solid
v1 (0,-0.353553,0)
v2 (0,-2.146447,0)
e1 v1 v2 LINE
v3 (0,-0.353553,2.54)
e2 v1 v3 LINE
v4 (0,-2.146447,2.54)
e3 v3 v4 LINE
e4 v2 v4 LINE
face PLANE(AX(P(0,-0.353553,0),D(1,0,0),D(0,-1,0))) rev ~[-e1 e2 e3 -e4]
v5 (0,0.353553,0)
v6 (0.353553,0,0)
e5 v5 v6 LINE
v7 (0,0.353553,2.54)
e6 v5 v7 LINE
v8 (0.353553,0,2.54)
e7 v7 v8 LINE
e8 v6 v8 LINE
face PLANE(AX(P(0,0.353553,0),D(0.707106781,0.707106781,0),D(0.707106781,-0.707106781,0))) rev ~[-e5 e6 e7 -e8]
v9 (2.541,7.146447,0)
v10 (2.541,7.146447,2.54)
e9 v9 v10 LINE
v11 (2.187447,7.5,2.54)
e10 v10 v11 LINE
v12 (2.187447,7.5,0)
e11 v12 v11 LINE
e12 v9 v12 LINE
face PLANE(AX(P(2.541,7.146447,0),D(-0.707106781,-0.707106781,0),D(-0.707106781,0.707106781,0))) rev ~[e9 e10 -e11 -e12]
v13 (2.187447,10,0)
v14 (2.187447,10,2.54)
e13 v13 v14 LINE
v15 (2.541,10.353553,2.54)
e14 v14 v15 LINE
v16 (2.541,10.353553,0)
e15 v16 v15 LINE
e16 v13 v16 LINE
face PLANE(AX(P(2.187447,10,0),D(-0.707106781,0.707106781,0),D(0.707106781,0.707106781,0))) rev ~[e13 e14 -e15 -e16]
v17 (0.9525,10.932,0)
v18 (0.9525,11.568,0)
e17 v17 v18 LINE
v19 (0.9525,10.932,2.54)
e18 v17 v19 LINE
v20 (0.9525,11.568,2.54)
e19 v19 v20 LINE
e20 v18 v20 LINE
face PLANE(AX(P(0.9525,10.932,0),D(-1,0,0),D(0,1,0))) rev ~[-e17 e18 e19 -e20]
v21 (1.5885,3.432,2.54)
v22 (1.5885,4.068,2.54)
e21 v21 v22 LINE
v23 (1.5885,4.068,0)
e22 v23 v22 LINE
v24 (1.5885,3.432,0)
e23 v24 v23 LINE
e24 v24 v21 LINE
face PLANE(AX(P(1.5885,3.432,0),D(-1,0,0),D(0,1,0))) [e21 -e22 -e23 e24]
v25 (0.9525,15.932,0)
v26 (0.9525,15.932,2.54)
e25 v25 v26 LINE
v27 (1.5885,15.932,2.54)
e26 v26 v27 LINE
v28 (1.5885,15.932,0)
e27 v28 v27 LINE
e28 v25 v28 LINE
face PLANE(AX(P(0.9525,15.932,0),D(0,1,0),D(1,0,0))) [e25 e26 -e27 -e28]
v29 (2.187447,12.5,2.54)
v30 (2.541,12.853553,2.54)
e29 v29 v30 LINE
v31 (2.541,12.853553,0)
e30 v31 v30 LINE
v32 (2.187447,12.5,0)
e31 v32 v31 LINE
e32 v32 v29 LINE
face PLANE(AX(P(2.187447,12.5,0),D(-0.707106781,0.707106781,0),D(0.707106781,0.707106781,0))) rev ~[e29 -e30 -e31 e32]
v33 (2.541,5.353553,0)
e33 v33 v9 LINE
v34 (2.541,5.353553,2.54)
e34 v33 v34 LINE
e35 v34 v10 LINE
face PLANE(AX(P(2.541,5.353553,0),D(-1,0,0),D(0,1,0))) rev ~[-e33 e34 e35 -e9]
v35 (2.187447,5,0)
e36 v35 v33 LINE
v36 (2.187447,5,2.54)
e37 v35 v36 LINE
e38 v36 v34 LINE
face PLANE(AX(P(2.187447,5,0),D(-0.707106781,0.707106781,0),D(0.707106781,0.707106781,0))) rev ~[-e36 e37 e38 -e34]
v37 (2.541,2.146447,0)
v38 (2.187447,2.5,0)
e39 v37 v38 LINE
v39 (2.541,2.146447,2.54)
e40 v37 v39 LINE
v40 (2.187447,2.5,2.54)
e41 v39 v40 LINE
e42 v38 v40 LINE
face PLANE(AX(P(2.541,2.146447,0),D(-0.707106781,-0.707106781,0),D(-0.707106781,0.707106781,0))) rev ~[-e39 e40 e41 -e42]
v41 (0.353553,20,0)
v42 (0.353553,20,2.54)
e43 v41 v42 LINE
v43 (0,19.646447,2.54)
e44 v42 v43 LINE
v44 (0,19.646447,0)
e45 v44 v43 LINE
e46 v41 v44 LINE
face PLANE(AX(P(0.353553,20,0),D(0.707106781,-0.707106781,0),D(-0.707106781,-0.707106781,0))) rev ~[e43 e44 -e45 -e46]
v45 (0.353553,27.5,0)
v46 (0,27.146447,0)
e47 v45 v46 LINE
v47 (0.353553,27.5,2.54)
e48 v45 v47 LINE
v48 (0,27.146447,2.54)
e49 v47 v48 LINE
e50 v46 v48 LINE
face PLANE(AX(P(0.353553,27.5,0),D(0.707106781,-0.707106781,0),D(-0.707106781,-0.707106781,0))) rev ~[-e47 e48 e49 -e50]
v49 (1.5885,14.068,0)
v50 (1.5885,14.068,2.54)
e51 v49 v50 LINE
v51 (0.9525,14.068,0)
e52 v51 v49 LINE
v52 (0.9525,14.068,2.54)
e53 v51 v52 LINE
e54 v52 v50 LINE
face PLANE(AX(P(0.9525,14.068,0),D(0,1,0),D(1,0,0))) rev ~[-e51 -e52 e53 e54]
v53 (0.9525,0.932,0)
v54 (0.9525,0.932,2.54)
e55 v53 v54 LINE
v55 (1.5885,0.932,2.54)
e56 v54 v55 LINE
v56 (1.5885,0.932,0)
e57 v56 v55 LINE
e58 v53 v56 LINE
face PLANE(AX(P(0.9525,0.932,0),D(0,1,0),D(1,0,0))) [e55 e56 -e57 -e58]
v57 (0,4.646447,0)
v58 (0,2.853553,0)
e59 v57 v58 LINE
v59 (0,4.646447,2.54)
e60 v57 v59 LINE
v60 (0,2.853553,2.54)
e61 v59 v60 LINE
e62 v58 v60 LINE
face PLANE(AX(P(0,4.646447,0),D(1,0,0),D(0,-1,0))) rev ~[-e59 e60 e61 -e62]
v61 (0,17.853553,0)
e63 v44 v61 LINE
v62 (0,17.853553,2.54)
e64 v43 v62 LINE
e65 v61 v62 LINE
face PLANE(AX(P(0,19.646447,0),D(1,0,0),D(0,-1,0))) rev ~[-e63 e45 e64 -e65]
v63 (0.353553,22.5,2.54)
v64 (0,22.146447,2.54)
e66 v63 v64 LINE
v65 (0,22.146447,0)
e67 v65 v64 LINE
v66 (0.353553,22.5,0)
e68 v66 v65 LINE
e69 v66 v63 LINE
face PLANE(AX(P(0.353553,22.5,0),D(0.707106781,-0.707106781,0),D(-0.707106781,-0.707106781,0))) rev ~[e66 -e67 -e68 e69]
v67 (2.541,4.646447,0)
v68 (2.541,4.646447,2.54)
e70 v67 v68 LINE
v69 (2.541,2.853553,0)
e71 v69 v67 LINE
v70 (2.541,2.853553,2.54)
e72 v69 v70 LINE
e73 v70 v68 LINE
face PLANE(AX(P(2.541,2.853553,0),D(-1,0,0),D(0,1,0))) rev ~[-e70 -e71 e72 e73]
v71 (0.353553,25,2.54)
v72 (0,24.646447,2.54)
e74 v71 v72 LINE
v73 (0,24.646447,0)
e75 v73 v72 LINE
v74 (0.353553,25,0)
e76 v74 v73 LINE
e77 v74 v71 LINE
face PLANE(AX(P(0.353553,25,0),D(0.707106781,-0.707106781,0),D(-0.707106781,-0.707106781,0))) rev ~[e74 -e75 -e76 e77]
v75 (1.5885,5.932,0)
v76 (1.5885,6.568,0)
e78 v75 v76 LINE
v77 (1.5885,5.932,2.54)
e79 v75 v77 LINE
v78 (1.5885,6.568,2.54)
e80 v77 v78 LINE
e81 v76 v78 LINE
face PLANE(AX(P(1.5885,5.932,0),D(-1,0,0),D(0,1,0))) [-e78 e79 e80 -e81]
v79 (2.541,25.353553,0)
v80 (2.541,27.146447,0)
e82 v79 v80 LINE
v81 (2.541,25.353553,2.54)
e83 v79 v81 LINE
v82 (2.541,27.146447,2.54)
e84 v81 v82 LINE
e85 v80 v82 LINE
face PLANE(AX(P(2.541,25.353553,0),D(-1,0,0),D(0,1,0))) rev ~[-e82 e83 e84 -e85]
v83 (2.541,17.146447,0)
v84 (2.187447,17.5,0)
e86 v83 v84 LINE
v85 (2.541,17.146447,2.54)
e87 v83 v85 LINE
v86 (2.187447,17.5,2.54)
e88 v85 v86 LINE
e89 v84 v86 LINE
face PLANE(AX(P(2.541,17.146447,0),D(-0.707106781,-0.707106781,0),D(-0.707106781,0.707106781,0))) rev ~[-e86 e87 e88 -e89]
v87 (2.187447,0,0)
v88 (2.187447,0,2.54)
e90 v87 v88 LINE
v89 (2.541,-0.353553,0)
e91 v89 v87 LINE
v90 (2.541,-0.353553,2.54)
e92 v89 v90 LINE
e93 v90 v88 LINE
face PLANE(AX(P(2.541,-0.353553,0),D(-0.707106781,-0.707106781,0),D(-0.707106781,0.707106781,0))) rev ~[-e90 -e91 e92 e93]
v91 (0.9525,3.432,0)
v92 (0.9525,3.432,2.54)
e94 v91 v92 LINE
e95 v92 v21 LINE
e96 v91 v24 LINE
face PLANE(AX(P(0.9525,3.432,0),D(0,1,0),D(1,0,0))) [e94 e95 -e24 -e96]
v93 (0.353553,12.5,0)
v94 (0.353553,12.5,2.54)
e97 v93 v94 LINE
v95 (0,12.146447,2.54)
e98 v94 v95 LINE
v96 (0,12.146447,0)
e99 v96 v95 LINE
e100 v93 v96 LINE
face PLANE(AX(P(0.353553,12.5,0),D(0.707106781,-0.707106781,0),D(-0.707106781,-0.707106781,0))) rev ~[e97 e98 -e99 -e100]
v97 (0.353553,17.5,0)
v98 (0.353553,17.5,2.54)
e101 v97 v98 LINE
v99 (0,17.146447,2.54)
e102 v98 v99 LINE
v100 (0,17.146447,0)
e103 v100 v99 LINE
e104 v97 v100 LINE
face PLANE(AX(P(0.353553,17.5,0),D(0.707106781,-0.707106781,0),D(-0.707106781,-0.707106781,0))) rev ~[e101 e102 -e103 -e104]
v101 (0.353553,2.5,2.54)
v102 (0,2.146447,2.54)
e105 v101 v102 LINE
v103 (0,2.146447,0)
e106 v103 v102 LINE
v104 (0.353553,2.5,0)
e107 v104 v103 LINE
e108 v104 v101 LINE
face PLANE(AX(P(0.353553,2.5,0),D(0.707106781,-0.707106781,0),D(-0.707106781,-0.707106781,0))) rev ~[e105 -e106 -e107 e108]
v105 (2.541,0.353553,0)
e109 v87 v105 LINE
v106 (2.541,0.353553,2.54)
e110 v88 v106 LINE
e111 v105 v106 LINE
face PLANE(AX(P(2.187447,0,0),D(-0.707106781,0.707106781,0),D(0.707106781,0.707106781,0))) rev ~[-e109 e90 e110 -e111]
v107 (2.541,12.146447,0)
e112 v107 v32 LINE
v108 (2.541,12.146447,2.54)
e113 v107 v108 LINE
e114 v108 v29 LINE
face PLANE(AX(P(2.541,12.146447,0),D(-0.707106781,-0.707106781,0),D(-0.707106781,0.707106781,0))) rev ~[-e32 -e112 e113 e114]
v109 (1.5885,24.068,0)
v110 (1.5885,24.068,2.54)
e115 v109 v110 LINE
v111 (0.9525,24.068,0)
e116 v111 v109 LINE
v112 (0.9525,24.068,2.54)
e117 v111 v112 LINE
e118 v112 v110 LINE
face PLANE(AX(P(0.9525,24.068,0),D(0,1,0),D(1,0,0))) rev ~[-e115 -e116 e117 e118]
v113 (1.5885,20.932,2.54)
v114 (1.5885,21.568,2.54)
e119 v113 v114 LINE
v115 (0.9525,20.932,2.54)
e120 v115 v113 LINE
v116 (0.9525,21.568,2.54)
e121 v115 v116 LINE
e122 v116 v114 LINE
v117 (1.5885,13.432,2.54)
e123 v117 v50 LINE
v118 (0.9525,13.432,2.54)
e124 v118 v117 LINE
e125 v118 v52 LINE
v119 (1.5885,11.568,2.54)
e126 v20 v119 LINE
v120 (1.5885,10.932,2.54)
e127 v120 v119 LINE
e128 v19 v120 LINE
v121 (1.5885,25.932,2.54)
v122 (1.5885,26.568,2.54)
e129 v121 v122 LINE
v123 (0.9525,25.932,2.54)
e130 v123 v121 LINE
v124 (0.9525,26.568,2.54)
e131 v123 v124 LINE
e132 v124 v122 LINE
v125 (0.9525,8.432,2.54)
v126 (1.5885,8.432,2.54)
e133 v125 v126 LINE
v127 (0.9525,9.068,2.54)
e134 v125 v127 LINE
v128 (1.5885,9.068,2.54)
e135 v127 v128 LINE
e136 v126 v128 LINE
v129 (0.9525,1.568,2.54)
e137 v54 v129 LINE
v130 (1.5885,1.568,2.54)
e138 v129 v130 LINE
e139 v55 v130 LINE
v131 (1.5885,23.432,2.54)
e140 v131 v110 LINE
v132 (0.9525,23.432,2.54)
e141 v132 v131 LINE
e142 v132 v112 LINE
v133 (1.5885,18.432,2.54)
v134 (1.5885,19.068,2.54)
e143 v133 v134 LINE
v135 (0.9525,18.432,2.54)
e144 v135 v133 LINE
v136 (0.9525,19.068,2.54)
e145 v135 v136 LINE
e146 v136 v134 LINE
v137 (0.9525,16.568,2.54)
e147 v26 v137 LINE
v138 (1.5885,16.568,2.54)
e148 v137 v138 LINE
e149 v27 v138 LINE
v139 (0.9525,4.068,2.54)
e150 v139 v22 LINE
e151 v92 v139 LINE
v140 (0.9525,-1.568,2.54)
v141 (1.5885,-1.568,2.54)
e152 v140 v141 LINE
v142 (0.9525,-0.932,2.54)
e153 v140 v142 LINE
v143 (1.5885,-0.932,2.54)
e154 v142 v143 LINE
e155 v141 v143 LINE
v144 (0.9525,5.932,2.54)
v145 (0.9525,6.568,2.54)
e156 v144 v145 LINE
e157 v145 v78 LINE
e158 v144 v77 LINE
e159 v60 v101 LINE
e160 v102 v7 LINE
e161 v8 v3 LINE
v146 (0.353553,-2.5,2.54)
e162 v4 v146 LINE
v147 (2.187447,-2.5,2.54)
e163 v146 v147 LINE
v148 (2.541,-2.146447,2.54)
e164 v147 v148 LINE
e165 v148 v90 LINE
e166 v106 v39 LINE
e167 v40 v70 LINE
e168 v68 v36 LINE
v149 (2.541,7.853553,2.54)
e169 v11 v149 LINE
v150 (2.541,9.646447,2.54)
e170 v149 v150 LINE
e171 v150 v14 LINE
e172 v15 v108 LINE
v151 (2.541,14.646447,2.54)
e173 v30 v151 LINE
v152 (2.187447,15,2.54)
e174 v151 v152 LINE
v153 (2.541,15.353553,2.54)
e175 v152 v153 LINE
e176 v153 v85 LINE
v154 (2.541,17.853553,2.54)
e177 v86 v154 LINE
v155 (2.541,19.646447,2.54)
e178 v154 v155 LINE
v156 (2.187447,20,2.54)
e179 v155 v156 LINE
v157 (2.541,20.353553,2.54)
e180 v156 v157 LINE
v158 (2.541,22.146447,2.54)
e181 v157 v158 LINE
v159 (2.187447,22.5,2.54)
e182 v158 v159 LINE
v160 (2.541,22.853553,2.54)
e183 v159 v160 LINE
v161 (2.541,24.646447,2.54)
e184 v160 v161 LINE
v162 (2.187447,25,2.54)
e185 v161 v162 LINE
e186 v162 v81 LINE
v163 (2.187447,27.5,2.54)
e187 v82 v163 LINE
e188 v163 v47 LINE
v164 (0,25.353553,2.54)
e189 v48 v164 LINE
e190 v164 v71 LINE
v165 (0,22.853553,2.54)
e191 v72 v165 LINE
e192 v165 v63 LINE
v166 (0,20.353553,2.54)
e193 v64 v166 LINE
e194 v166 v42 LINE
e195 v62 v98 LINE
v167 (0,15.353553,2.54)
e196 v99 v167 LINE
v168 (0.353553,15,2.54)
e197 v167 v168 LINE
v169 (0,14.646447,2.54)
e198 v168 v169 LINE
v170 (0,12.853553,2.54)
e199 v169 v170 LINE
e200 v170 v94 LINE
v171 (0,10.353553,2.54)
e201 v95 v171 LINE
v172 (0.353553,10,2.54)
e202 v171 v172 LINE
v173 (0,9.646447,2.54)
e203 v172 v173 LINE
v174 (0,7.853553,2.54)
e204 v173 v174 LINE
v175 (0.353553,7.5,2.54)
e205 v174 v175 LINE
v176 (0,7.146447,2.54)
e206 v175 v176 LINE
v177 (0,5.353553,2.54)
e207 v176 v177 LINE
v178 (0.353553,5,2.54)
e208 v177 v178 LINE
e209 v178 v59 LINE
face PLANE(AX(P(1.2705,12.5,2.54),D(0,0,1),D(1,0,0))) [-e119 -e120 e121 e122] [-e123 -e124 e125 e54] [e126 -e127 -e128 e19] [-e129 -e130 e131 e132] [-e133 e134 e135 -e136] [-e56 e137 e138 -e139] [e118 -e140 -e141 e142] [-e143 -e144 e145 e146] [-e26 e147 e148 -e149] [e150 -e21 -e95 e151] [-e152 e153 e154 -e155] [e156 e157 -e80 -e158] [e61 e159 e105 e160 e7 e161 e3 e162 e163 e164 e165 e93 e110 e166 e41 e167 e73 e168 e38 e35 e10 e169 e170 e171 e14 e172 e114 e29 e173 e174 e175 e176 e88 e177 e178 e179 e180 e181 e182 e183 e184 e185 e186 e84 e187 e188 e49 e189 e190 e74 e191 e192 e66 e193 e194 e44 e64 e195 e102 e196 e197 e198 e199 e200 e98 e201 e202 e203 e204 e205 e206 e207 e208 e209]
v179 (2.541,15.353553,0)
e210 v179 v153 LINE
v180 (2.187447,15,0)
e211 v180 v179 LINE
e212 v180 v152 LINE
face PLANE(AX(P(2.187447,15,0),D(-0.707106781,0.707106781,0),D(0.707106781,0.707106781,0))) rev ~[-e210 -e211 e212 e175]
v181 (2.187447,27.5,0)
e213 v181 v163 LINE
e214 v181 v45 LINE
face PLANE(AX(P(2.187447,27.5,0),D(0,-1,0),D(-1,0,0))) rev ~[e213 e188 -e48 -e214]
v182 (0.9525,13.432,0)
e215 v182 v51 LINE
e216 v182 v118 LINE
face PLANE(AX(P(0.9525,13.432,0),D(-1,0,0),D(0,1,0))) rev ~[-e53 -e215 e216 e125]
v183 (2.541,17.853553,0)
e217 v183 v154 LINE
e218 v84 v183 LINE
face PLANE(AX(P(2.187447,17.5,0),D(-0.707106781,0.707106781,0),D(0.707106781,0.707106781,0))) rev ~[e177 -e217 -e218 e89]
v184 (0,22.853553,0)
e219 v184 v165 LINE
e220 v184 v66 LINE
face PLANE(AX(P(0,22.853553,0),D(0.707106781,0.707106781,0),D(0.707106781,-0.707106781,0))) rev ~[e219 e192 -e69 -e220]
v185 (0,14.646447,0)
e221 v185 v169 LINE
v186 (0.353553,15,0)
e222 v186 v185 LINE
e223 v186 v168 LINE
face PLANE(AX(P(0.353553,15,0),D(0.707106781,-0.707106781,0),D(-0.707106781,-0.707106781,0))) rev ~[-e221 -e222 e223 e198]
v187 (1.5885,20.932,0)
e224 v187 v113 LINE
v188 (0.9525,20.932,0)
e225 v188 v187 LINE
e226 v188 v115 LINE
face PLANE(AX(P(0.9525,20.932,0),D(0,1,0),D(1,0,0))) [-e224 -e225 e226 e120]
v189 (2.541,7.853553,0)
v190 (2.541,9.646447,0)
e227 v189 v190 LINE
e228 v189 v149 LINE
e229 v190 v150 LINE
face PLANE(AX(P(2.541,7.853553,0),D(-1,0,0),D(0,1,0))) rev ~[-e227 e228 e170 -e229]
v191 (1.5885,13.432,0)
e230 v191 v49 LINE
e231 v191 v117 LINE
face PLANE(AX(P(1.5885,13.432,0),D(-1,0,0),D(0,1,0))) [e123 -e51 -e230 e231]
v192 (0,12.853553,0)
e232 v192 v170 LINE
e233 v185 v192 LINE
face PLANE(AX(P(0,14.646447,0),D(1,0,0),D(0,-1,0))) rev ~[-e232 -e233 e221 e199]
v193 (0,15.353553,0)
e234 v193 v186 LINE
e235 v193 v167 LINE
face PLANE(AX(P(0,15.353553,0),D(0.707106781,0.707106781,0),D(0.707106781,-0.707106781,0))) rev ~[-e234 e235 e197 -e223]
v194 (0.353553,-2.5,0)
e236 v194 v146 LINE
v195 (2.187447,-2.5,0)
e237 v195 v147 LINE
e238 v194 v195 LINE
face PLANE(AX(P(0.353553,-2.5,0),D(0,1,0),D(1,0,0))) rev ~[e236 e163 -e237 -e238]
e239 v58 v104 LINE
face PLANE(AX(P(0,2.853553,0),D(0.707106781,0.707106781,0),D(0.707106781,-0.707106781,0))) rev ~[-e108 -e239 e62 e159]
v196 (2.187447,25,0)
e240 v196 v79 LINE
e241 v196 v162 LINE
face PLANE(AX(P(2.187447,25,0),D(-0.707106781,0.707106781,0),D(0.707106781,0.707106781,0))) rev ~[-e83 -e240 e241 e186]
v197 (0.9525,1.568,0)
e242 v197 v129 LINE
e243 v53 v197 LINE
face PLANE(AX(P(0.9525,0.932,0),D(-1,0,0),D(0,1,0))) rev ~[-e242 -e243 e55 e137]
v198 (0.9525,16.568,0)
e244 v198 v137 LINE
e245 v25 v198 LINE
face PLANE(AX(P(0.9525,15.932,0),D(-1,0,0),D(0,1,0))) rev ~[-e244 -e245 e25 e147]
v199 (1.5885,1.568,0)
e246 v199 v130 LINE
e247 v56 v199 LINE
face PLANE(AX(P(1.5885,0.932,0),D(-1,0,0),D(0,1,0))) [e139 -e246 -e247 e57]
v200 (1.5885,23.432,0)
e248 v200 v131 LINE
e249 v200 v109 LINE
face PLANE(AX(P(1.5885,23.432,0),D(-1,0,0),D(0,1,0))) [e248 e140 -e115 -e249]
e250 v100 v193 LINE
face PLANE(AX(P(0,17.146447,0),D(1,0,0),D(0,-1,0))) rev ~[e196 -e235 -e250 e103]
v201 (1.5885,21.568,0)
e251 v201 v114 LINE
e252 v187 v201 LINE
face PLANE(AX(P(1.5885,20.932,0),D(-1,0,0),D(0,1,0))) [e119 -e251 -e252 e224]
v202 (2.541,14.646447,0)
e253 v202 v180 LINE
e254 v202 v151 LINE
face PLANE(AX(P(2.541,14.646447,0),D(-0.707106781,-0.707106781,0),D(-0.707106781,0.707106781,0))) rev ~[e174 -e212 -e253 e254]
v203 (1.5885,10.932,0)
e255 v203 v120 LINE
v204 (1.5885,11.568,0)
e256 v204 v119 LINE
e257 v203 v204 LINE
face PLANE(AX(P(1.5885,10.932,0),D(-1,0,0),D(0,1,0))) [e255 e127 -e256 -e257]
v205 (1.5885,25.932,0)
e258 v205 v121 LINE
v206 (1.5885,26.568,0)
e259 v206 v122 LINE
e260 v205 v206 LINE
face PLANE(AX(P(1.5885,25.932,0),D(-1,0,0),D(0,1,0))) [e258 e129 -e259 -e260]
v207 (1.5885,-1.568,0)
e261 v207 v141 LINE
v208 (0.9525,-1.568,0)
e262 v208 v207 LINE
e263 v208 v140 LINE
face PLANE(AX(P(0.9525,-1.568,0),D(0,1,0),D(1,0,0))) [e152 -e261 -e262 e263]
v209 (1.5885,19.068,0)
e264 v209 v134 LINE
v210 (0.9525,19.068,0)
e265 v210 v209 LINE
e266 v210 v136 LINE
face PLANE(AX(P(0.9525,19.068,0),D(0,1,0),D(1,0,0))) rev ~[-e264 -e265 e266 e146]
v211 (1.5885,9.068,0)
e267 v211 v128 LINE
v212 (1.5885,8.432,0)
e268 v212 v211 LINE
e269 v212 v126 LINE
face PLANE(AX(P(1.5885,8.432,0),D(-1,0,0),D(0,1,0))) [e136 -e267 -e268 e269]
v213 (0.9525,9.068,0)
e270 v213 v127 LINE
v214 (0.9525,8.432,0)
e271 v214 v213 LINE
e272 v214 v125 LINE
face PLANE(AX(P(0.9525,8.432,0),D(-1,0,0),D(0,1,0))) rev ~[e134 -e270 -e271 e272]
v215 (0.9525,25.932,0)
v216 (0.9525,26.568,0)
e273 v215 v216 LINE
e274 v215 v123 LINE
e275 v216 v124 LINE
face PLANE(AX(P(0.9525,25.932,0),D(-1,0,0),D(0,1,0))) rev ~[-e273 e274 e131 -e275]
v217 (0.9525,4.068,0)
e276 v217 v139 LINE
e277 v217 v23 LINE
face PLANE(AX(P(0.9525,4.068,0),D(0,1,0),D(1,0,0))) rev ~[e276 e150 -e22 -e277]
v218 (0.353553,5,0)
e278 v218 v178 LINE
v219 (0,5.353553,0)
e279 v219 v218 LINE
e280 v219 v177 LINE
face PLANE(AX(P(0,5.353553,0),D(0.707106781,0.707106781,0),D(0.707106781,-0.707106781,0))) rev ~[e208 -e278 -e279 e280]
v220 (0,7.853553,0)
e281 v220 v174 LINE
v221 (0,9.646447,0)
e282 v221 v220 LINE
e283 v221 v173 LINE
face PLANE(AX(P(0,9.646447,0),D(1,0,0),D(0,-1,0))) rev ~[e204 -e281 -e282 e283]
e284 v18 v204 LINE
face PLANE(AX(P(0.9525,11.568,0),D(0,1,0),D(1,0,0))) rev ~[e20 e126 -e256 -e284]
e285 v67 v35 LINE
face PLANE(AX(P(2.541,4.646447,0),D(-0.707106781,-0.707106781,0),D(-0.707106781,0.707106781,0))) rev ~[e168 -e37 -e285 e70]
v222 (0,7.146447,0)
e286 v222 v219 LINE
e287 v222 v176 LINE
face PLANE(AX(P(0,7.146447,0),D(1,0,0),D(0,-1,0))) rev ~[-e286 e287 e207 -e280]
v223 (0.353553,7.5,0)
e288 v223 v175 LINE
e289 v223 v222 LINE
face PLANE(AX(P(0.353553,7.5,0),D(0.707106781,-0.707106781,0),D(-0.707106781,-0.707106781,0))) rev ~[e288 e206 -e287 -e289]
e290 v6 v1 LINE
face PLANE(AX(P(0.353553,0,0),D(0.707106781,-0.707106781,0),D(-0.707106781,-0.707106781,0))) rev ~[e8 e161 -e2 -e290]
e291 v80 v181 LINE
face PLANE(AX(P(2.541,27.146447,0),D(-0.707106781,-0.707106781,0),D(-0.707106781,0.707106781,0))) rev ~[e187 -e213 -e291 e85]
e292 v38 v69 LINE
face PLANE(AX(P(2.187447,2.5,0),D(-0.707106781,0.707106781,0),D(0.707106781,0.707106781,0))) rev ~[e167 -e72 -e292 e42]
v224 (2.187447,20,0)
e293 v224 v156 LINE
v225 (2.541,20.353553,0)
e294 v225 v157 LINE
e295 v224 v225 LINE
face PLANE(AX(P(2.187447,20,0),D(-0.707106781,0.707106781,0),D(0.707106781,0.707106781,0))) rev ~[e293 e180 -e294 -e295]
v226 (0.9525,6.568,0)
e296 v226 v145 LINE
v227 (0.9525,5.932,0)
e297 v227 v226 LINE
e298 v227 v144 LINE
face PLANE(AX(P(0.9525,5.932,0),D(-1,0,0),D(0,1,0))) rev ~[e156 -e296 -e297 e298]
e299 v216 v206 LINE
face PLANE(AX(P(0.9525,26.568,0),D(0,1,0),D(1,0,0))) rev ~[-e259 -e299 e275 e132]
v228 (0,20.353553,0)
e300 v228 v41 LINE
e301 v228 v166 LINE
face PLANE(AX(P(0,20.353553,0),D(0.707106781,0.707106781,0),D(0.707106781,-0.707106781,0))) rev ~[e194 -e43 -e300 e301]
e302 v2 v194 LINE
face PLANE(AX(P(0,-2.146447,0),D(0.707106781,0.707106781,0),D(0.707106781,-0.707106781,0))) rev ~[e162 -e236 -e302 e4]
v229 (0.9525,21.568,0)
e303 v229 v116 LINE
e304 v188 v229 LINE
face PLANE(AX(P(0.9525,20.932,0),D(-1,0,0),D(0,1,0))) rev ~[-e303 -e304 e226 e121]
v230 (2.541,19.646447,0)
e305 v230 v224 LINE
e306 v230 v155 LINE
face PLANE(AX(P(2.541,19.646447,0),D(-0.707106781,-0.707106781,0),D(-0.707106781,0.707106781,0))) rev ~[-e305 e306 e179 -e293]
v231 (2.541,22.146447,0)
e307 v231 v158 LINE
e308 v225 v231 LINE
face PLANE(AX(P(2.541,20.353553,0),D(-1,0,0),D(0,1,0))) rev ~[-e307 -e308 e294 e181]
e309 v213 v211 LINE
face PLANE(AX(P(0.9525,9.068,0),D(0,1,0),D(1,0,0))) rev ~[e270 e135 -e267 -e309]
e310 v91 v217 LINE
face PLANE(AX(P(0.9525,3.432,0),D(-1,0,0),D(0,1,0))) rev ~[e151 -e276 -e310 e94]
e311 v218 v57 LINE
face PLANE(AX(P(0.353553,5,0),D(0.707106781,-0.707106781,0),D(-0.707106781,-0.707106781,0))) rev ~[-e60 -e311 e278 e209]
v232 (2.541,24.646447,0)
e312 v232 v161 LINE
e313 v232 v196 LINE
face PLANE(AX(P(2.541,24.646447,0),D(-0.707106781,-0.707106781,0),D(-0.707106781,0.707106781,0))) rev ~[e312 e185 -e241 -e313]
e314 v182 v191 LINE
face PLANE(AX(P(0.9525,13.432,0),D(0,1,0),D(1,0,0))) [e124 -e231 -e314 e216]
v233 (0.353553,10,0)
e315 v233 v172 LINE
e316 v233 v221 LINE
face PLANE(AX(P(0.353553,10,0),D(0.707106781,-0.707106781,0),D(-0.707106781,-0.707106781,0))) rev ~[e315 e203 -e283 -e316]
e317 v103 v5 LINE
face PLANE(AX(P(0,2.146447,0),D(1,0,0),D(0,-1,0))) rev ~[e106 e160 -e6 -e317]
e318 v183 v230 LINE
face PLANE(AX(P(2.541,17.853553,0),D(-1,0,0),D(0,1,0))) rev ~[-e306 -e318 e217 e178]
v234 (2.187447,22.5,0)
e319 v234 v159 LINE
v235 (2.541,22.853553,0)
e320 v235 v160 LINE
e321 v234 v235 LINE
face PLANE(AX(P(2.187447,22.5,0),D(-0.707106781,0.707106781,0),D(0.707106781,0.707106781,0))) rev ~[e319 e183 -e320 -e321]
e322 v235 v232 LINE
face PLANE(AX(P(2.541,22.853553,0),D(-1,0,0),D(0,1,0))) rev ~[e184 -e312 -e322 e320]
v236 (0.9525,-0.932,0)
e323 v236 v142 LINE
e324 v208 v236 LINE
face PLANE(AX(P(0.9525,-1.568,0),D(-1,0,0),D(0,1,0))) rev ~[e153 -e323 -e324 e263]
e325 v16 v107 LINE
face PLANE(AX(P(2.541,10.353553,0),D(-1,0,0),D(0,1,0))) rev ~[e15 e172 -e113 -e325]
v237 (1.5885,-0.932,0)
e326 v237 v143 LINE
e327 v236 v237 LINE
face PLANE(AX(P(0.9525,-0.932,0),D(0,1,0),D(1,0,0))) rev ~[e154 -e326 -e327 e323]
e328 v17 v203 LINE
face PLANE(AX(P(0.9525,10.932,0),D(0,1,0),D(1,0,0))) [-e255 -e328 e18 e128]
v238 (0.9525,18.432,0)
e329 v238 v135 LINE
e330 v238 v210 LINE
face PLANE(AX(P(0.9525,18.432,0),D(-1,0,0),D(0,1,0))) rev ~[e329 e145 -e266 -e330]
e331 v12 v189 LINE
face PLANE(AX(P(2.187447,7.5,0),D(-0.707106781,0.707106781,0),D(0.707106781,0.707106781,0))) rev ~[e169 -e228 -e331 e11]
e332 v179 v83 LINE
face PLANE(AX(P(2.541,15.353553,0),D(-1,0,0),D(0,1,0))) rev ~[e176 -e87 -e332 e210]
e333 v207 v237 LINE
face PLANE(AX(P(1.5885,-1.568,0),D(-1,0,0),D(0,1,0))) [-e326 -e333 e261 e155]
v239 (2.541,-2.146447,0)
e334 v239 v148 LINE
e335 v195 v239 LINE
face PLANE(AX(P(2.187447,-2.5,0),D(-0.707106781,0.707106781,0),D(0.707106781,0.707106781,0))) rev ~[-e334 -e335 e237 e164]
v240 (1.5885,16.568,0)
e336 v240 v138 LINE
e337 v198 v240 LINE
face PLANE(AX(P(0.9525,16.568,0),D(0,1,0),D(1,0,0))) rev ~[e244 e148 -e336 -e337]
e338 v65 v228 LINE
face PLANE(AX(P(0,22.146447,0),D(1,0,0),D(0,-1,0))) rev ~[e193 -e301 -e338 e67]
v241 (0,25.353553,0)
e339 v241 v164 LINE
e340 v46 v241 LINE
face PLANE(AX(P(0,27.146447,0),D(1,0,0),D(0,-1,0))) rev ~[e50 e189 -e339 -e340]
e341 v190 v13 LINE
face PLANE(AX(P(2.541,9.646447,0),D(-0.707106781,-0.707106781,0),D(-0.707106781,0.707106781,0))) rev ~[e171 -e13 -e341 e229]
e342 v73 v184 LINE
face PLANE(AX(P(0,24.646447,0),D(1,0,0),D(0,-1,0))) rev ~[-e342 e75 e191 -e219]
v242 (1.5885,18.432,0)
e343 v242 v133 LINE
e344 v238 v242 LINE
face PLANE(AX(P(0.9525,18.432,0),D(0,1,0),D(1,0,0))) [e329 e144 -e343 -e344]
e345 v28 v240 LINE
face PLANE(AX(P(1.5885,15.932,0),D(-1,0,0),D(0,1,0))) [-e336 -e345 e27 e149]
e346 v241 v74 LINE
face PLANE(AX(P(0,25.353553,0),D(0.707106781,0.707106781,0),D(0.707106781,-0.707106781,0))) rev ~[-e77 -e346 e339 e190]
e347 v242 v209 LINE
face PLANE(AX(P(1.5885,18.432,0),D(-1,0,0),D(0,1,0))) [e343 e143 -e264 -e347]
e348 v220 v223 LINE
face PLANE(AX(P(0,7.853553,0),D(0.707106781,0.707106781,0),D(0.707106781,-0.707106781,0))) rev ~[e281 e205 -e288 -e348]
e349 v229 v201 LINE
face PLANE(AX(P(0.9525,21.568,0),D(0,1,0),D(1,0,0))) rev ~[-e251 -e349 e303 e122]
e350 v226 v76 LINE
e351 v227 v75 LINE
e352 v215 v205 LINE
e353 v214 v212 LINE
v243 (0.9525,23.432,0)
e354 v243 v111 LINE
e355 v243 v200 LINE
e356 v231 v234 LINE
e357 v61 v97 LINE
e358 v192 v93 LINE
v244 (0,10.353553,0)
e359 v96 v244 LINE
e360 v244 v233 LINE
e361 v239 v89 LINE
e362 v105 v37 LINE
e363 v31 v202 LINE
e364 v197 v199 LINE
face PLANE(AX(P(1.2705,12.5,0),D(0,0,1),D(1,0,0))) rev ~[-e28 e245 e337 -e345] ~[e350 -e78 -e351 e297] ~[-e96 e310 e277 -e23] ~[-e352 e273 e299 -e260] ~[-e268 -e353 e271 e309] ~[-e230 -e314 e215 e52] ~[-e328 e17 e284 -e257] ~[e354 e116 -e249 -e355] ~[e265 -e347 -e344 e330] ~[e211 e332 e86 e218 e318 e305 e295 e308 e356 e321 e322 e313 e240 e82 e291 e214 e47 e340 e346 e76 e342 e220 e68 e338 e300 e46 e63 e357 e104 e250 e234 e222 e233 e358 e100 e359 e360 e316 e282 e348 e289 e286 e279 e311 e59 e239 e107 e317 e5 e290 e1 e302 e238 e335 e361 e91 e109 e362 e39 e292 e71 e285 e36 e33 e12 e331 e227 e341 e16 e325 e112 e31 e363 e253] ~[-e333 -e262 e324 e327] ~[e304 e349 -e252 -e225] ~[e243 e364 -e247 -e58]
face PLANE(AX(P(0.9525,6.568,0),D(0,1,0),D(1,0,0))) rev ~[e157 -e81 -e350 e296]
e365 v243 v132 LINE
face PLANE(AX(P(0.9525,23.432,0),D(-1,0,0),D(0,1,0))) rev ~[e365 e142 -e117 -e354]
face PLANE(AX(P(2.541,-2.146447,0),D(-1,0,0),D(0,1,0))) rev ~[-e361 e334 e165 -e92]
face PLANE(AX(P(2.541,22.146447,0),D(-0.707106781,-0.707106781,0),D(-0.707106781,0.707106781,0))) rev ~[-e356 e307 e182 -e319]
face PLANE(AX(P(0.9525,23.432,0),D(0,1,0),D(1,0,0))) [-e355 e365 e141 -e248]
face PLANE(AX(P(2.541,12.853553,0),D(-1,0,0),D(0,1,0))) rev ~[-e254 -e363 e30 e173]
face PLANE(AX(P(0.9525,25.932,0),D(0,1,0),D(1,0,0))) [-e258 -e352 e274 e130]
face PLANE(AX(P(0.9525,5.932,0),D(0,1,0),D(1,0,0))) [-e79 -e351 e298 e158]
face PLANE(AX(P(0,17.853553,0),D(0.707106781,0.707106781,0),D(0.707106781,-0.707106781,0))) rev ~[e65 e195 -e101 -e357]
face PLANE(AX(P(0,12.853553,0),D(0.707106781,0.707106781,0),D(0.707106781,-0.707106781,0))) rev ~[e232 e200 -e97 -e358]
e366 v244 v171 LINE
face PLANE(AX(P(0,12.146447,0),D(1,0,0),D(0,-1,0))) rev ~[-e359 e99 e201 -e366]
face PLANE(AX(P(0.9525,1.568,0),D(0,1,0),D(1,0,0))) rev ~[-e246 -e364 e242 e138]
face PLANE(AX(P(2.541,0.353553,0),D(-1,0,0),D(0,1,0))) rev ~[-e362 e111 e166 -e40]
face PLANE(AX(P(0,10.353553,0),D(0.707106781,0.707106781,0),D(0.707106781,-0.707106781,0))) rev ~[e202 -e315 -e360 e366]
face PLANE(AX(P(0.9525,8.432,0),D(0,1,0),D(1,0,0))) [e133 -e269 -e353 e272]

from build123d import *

# Parameters (mm, degrees)
PIN_DRAWING_W       = 0.636
PIN_DRAWING_H       = 0.636
BOSS_EXTRUDE1_DEPTH = 2.54


with BuildPart() as part:
    # pin_drawing → Boss-Extrude1 (new body)
    with BuildSketch(Plane.XY):
        Polygon((0, 2.146446609), (0, 0.353553391), (0.353553391, 0), (0, -0.353553391), (0, -2.146446609), (0.353553391, -2.5), (2.187446609, -2.5), (2.541, -2.146446609), (2.541, -0.353553391), (2.187446609, 0), (2.541, 0.353553391), (2.541, 2.146446609), (2.187446609, 2.5), (2.541, 2.853553391), (2.541, 4.646446609), (2.187446609, 5), (2.541, 5.353553391), (2.541, 7.146446609), (2.187446609, 7.5), (2.541, 7.853553391), (2.541, 9.646446609), (2.187446609, 10), (2.541, 10.353553391), (2.541, 12.146446609), (2.187446609, 12.5), (2.541, 12.853553391), (2.541, 14.646446609), (2.187446609, 15), (2.541, 15.353553391), (2.541, 17.146446609), (2.187446609, 17.5), (2.541, 17.853553391), (2.541, 19.646446609), (2.187446609, 20), (2.541, 20.353553391), (2.541, 22.146446609), (2.187446609, 22.5), (2.541, 22.853553391), (2.541, 24.646446609), (2.187446609, 25), (2.541, 25.353553391), (2.541, 27.146446609), (2.187446609, 27.5), (0.353553391, 27.5), (0, 27.146446609), (0, 25.353553391), (0.353553391, 25), (0, 24.646446609), (0, 22.853553391), (0.353553391, 22.5), (0, 22.146446609), (0, 20.353553391), (0.353553391, 20), (0, 19.646446609), (0, 17.853553391), (0.353553391, 17.5), (0, 17.146446609), (0, 15.353553391), (0.353553391, 15), (0, 14.646446609), (0, 12.853553391), (0.353553391, 12.5), (0, 12.146446609), (0, 10.353553391), (0.353553391, 10), (0, 9.646446609), (0, 7.853553391), (0.353553391, 7.5), (0, 7.146446609), (0, 5.353553391), (0.353553391, 5), (0, 4.646446609), (0, 2.853553391), (0.353553391, 2.5), align=None)
        with Locations((1.2705, -1.25)):
            Rectangle(PIN_DRAWING_W, PIN_DRAWING_H, mode=Mode.SUBTRACT)
        with Locations((1.2705, 1.25)):
            Rectangle(PIN_DRAWING_W, PIN_DRAWING_H, mode=Mode.SUBTRACT)
        with Locations((1.2705, 3.75)):
            Rectangle(PIN_DRAWING_W, PIN_DRAWING_H, mode=Mode.SUBTRACT)
        with Locations((1.2705, 6.25)):
            Rectangle(PIN_DRAWING_W, PIN_DRAWING_H, mode=Mode.SUBTRACT)
        with Locations((1.2705, 8.75)):
            Rectangle(PIN_DRAWING_W, PIN_DRAWING_H, mode=Mode.SUBTRACT)
        with Locations((1.2705, 11.25)):
            Rectangle(PIN_DRAWING_W, PIN_DRAWING_H, mode=Mode.SUBTRACT)
        with Locations((1.2705, 13.75)):
            Rectangle(PIN_DRAWING_W, PIN_DRAWING_H, mode=Mode.SUBTRACT)
        with Locations((1.2705, 16.25)):
            Rectangle(PIN_DRAWING_W, PIN_DRAWING_H, mode=Mode.SUBTRACT)
        with Locations((1.2705, 18.75)):
            Rectangle(PIN_DRAWING_W, PIN_DRAWING_H, mode=Mode.SUBTRACT)
        with Locations((1.2705, 21.25)):
            Rectangle(PIN_DRAWING_W, PIN_DRAWING_H, mode=Mode.SUBTRACT)
        with Locations((1.2705, 23.75)):
            Rectangle(PIN_DRAWING_W, PIN_DRAWING_H, mode=Mode.SUBTRACT)
        with Locations((1.2705, 26.25)):
            Rectangle(PIN_DRAWING_W, PIN_DRAWING_H, mode=Mode.SUBTRACT)
    extrude(amount=BOSS_EXTRUDE1_DEPTH)


solid = part.part
